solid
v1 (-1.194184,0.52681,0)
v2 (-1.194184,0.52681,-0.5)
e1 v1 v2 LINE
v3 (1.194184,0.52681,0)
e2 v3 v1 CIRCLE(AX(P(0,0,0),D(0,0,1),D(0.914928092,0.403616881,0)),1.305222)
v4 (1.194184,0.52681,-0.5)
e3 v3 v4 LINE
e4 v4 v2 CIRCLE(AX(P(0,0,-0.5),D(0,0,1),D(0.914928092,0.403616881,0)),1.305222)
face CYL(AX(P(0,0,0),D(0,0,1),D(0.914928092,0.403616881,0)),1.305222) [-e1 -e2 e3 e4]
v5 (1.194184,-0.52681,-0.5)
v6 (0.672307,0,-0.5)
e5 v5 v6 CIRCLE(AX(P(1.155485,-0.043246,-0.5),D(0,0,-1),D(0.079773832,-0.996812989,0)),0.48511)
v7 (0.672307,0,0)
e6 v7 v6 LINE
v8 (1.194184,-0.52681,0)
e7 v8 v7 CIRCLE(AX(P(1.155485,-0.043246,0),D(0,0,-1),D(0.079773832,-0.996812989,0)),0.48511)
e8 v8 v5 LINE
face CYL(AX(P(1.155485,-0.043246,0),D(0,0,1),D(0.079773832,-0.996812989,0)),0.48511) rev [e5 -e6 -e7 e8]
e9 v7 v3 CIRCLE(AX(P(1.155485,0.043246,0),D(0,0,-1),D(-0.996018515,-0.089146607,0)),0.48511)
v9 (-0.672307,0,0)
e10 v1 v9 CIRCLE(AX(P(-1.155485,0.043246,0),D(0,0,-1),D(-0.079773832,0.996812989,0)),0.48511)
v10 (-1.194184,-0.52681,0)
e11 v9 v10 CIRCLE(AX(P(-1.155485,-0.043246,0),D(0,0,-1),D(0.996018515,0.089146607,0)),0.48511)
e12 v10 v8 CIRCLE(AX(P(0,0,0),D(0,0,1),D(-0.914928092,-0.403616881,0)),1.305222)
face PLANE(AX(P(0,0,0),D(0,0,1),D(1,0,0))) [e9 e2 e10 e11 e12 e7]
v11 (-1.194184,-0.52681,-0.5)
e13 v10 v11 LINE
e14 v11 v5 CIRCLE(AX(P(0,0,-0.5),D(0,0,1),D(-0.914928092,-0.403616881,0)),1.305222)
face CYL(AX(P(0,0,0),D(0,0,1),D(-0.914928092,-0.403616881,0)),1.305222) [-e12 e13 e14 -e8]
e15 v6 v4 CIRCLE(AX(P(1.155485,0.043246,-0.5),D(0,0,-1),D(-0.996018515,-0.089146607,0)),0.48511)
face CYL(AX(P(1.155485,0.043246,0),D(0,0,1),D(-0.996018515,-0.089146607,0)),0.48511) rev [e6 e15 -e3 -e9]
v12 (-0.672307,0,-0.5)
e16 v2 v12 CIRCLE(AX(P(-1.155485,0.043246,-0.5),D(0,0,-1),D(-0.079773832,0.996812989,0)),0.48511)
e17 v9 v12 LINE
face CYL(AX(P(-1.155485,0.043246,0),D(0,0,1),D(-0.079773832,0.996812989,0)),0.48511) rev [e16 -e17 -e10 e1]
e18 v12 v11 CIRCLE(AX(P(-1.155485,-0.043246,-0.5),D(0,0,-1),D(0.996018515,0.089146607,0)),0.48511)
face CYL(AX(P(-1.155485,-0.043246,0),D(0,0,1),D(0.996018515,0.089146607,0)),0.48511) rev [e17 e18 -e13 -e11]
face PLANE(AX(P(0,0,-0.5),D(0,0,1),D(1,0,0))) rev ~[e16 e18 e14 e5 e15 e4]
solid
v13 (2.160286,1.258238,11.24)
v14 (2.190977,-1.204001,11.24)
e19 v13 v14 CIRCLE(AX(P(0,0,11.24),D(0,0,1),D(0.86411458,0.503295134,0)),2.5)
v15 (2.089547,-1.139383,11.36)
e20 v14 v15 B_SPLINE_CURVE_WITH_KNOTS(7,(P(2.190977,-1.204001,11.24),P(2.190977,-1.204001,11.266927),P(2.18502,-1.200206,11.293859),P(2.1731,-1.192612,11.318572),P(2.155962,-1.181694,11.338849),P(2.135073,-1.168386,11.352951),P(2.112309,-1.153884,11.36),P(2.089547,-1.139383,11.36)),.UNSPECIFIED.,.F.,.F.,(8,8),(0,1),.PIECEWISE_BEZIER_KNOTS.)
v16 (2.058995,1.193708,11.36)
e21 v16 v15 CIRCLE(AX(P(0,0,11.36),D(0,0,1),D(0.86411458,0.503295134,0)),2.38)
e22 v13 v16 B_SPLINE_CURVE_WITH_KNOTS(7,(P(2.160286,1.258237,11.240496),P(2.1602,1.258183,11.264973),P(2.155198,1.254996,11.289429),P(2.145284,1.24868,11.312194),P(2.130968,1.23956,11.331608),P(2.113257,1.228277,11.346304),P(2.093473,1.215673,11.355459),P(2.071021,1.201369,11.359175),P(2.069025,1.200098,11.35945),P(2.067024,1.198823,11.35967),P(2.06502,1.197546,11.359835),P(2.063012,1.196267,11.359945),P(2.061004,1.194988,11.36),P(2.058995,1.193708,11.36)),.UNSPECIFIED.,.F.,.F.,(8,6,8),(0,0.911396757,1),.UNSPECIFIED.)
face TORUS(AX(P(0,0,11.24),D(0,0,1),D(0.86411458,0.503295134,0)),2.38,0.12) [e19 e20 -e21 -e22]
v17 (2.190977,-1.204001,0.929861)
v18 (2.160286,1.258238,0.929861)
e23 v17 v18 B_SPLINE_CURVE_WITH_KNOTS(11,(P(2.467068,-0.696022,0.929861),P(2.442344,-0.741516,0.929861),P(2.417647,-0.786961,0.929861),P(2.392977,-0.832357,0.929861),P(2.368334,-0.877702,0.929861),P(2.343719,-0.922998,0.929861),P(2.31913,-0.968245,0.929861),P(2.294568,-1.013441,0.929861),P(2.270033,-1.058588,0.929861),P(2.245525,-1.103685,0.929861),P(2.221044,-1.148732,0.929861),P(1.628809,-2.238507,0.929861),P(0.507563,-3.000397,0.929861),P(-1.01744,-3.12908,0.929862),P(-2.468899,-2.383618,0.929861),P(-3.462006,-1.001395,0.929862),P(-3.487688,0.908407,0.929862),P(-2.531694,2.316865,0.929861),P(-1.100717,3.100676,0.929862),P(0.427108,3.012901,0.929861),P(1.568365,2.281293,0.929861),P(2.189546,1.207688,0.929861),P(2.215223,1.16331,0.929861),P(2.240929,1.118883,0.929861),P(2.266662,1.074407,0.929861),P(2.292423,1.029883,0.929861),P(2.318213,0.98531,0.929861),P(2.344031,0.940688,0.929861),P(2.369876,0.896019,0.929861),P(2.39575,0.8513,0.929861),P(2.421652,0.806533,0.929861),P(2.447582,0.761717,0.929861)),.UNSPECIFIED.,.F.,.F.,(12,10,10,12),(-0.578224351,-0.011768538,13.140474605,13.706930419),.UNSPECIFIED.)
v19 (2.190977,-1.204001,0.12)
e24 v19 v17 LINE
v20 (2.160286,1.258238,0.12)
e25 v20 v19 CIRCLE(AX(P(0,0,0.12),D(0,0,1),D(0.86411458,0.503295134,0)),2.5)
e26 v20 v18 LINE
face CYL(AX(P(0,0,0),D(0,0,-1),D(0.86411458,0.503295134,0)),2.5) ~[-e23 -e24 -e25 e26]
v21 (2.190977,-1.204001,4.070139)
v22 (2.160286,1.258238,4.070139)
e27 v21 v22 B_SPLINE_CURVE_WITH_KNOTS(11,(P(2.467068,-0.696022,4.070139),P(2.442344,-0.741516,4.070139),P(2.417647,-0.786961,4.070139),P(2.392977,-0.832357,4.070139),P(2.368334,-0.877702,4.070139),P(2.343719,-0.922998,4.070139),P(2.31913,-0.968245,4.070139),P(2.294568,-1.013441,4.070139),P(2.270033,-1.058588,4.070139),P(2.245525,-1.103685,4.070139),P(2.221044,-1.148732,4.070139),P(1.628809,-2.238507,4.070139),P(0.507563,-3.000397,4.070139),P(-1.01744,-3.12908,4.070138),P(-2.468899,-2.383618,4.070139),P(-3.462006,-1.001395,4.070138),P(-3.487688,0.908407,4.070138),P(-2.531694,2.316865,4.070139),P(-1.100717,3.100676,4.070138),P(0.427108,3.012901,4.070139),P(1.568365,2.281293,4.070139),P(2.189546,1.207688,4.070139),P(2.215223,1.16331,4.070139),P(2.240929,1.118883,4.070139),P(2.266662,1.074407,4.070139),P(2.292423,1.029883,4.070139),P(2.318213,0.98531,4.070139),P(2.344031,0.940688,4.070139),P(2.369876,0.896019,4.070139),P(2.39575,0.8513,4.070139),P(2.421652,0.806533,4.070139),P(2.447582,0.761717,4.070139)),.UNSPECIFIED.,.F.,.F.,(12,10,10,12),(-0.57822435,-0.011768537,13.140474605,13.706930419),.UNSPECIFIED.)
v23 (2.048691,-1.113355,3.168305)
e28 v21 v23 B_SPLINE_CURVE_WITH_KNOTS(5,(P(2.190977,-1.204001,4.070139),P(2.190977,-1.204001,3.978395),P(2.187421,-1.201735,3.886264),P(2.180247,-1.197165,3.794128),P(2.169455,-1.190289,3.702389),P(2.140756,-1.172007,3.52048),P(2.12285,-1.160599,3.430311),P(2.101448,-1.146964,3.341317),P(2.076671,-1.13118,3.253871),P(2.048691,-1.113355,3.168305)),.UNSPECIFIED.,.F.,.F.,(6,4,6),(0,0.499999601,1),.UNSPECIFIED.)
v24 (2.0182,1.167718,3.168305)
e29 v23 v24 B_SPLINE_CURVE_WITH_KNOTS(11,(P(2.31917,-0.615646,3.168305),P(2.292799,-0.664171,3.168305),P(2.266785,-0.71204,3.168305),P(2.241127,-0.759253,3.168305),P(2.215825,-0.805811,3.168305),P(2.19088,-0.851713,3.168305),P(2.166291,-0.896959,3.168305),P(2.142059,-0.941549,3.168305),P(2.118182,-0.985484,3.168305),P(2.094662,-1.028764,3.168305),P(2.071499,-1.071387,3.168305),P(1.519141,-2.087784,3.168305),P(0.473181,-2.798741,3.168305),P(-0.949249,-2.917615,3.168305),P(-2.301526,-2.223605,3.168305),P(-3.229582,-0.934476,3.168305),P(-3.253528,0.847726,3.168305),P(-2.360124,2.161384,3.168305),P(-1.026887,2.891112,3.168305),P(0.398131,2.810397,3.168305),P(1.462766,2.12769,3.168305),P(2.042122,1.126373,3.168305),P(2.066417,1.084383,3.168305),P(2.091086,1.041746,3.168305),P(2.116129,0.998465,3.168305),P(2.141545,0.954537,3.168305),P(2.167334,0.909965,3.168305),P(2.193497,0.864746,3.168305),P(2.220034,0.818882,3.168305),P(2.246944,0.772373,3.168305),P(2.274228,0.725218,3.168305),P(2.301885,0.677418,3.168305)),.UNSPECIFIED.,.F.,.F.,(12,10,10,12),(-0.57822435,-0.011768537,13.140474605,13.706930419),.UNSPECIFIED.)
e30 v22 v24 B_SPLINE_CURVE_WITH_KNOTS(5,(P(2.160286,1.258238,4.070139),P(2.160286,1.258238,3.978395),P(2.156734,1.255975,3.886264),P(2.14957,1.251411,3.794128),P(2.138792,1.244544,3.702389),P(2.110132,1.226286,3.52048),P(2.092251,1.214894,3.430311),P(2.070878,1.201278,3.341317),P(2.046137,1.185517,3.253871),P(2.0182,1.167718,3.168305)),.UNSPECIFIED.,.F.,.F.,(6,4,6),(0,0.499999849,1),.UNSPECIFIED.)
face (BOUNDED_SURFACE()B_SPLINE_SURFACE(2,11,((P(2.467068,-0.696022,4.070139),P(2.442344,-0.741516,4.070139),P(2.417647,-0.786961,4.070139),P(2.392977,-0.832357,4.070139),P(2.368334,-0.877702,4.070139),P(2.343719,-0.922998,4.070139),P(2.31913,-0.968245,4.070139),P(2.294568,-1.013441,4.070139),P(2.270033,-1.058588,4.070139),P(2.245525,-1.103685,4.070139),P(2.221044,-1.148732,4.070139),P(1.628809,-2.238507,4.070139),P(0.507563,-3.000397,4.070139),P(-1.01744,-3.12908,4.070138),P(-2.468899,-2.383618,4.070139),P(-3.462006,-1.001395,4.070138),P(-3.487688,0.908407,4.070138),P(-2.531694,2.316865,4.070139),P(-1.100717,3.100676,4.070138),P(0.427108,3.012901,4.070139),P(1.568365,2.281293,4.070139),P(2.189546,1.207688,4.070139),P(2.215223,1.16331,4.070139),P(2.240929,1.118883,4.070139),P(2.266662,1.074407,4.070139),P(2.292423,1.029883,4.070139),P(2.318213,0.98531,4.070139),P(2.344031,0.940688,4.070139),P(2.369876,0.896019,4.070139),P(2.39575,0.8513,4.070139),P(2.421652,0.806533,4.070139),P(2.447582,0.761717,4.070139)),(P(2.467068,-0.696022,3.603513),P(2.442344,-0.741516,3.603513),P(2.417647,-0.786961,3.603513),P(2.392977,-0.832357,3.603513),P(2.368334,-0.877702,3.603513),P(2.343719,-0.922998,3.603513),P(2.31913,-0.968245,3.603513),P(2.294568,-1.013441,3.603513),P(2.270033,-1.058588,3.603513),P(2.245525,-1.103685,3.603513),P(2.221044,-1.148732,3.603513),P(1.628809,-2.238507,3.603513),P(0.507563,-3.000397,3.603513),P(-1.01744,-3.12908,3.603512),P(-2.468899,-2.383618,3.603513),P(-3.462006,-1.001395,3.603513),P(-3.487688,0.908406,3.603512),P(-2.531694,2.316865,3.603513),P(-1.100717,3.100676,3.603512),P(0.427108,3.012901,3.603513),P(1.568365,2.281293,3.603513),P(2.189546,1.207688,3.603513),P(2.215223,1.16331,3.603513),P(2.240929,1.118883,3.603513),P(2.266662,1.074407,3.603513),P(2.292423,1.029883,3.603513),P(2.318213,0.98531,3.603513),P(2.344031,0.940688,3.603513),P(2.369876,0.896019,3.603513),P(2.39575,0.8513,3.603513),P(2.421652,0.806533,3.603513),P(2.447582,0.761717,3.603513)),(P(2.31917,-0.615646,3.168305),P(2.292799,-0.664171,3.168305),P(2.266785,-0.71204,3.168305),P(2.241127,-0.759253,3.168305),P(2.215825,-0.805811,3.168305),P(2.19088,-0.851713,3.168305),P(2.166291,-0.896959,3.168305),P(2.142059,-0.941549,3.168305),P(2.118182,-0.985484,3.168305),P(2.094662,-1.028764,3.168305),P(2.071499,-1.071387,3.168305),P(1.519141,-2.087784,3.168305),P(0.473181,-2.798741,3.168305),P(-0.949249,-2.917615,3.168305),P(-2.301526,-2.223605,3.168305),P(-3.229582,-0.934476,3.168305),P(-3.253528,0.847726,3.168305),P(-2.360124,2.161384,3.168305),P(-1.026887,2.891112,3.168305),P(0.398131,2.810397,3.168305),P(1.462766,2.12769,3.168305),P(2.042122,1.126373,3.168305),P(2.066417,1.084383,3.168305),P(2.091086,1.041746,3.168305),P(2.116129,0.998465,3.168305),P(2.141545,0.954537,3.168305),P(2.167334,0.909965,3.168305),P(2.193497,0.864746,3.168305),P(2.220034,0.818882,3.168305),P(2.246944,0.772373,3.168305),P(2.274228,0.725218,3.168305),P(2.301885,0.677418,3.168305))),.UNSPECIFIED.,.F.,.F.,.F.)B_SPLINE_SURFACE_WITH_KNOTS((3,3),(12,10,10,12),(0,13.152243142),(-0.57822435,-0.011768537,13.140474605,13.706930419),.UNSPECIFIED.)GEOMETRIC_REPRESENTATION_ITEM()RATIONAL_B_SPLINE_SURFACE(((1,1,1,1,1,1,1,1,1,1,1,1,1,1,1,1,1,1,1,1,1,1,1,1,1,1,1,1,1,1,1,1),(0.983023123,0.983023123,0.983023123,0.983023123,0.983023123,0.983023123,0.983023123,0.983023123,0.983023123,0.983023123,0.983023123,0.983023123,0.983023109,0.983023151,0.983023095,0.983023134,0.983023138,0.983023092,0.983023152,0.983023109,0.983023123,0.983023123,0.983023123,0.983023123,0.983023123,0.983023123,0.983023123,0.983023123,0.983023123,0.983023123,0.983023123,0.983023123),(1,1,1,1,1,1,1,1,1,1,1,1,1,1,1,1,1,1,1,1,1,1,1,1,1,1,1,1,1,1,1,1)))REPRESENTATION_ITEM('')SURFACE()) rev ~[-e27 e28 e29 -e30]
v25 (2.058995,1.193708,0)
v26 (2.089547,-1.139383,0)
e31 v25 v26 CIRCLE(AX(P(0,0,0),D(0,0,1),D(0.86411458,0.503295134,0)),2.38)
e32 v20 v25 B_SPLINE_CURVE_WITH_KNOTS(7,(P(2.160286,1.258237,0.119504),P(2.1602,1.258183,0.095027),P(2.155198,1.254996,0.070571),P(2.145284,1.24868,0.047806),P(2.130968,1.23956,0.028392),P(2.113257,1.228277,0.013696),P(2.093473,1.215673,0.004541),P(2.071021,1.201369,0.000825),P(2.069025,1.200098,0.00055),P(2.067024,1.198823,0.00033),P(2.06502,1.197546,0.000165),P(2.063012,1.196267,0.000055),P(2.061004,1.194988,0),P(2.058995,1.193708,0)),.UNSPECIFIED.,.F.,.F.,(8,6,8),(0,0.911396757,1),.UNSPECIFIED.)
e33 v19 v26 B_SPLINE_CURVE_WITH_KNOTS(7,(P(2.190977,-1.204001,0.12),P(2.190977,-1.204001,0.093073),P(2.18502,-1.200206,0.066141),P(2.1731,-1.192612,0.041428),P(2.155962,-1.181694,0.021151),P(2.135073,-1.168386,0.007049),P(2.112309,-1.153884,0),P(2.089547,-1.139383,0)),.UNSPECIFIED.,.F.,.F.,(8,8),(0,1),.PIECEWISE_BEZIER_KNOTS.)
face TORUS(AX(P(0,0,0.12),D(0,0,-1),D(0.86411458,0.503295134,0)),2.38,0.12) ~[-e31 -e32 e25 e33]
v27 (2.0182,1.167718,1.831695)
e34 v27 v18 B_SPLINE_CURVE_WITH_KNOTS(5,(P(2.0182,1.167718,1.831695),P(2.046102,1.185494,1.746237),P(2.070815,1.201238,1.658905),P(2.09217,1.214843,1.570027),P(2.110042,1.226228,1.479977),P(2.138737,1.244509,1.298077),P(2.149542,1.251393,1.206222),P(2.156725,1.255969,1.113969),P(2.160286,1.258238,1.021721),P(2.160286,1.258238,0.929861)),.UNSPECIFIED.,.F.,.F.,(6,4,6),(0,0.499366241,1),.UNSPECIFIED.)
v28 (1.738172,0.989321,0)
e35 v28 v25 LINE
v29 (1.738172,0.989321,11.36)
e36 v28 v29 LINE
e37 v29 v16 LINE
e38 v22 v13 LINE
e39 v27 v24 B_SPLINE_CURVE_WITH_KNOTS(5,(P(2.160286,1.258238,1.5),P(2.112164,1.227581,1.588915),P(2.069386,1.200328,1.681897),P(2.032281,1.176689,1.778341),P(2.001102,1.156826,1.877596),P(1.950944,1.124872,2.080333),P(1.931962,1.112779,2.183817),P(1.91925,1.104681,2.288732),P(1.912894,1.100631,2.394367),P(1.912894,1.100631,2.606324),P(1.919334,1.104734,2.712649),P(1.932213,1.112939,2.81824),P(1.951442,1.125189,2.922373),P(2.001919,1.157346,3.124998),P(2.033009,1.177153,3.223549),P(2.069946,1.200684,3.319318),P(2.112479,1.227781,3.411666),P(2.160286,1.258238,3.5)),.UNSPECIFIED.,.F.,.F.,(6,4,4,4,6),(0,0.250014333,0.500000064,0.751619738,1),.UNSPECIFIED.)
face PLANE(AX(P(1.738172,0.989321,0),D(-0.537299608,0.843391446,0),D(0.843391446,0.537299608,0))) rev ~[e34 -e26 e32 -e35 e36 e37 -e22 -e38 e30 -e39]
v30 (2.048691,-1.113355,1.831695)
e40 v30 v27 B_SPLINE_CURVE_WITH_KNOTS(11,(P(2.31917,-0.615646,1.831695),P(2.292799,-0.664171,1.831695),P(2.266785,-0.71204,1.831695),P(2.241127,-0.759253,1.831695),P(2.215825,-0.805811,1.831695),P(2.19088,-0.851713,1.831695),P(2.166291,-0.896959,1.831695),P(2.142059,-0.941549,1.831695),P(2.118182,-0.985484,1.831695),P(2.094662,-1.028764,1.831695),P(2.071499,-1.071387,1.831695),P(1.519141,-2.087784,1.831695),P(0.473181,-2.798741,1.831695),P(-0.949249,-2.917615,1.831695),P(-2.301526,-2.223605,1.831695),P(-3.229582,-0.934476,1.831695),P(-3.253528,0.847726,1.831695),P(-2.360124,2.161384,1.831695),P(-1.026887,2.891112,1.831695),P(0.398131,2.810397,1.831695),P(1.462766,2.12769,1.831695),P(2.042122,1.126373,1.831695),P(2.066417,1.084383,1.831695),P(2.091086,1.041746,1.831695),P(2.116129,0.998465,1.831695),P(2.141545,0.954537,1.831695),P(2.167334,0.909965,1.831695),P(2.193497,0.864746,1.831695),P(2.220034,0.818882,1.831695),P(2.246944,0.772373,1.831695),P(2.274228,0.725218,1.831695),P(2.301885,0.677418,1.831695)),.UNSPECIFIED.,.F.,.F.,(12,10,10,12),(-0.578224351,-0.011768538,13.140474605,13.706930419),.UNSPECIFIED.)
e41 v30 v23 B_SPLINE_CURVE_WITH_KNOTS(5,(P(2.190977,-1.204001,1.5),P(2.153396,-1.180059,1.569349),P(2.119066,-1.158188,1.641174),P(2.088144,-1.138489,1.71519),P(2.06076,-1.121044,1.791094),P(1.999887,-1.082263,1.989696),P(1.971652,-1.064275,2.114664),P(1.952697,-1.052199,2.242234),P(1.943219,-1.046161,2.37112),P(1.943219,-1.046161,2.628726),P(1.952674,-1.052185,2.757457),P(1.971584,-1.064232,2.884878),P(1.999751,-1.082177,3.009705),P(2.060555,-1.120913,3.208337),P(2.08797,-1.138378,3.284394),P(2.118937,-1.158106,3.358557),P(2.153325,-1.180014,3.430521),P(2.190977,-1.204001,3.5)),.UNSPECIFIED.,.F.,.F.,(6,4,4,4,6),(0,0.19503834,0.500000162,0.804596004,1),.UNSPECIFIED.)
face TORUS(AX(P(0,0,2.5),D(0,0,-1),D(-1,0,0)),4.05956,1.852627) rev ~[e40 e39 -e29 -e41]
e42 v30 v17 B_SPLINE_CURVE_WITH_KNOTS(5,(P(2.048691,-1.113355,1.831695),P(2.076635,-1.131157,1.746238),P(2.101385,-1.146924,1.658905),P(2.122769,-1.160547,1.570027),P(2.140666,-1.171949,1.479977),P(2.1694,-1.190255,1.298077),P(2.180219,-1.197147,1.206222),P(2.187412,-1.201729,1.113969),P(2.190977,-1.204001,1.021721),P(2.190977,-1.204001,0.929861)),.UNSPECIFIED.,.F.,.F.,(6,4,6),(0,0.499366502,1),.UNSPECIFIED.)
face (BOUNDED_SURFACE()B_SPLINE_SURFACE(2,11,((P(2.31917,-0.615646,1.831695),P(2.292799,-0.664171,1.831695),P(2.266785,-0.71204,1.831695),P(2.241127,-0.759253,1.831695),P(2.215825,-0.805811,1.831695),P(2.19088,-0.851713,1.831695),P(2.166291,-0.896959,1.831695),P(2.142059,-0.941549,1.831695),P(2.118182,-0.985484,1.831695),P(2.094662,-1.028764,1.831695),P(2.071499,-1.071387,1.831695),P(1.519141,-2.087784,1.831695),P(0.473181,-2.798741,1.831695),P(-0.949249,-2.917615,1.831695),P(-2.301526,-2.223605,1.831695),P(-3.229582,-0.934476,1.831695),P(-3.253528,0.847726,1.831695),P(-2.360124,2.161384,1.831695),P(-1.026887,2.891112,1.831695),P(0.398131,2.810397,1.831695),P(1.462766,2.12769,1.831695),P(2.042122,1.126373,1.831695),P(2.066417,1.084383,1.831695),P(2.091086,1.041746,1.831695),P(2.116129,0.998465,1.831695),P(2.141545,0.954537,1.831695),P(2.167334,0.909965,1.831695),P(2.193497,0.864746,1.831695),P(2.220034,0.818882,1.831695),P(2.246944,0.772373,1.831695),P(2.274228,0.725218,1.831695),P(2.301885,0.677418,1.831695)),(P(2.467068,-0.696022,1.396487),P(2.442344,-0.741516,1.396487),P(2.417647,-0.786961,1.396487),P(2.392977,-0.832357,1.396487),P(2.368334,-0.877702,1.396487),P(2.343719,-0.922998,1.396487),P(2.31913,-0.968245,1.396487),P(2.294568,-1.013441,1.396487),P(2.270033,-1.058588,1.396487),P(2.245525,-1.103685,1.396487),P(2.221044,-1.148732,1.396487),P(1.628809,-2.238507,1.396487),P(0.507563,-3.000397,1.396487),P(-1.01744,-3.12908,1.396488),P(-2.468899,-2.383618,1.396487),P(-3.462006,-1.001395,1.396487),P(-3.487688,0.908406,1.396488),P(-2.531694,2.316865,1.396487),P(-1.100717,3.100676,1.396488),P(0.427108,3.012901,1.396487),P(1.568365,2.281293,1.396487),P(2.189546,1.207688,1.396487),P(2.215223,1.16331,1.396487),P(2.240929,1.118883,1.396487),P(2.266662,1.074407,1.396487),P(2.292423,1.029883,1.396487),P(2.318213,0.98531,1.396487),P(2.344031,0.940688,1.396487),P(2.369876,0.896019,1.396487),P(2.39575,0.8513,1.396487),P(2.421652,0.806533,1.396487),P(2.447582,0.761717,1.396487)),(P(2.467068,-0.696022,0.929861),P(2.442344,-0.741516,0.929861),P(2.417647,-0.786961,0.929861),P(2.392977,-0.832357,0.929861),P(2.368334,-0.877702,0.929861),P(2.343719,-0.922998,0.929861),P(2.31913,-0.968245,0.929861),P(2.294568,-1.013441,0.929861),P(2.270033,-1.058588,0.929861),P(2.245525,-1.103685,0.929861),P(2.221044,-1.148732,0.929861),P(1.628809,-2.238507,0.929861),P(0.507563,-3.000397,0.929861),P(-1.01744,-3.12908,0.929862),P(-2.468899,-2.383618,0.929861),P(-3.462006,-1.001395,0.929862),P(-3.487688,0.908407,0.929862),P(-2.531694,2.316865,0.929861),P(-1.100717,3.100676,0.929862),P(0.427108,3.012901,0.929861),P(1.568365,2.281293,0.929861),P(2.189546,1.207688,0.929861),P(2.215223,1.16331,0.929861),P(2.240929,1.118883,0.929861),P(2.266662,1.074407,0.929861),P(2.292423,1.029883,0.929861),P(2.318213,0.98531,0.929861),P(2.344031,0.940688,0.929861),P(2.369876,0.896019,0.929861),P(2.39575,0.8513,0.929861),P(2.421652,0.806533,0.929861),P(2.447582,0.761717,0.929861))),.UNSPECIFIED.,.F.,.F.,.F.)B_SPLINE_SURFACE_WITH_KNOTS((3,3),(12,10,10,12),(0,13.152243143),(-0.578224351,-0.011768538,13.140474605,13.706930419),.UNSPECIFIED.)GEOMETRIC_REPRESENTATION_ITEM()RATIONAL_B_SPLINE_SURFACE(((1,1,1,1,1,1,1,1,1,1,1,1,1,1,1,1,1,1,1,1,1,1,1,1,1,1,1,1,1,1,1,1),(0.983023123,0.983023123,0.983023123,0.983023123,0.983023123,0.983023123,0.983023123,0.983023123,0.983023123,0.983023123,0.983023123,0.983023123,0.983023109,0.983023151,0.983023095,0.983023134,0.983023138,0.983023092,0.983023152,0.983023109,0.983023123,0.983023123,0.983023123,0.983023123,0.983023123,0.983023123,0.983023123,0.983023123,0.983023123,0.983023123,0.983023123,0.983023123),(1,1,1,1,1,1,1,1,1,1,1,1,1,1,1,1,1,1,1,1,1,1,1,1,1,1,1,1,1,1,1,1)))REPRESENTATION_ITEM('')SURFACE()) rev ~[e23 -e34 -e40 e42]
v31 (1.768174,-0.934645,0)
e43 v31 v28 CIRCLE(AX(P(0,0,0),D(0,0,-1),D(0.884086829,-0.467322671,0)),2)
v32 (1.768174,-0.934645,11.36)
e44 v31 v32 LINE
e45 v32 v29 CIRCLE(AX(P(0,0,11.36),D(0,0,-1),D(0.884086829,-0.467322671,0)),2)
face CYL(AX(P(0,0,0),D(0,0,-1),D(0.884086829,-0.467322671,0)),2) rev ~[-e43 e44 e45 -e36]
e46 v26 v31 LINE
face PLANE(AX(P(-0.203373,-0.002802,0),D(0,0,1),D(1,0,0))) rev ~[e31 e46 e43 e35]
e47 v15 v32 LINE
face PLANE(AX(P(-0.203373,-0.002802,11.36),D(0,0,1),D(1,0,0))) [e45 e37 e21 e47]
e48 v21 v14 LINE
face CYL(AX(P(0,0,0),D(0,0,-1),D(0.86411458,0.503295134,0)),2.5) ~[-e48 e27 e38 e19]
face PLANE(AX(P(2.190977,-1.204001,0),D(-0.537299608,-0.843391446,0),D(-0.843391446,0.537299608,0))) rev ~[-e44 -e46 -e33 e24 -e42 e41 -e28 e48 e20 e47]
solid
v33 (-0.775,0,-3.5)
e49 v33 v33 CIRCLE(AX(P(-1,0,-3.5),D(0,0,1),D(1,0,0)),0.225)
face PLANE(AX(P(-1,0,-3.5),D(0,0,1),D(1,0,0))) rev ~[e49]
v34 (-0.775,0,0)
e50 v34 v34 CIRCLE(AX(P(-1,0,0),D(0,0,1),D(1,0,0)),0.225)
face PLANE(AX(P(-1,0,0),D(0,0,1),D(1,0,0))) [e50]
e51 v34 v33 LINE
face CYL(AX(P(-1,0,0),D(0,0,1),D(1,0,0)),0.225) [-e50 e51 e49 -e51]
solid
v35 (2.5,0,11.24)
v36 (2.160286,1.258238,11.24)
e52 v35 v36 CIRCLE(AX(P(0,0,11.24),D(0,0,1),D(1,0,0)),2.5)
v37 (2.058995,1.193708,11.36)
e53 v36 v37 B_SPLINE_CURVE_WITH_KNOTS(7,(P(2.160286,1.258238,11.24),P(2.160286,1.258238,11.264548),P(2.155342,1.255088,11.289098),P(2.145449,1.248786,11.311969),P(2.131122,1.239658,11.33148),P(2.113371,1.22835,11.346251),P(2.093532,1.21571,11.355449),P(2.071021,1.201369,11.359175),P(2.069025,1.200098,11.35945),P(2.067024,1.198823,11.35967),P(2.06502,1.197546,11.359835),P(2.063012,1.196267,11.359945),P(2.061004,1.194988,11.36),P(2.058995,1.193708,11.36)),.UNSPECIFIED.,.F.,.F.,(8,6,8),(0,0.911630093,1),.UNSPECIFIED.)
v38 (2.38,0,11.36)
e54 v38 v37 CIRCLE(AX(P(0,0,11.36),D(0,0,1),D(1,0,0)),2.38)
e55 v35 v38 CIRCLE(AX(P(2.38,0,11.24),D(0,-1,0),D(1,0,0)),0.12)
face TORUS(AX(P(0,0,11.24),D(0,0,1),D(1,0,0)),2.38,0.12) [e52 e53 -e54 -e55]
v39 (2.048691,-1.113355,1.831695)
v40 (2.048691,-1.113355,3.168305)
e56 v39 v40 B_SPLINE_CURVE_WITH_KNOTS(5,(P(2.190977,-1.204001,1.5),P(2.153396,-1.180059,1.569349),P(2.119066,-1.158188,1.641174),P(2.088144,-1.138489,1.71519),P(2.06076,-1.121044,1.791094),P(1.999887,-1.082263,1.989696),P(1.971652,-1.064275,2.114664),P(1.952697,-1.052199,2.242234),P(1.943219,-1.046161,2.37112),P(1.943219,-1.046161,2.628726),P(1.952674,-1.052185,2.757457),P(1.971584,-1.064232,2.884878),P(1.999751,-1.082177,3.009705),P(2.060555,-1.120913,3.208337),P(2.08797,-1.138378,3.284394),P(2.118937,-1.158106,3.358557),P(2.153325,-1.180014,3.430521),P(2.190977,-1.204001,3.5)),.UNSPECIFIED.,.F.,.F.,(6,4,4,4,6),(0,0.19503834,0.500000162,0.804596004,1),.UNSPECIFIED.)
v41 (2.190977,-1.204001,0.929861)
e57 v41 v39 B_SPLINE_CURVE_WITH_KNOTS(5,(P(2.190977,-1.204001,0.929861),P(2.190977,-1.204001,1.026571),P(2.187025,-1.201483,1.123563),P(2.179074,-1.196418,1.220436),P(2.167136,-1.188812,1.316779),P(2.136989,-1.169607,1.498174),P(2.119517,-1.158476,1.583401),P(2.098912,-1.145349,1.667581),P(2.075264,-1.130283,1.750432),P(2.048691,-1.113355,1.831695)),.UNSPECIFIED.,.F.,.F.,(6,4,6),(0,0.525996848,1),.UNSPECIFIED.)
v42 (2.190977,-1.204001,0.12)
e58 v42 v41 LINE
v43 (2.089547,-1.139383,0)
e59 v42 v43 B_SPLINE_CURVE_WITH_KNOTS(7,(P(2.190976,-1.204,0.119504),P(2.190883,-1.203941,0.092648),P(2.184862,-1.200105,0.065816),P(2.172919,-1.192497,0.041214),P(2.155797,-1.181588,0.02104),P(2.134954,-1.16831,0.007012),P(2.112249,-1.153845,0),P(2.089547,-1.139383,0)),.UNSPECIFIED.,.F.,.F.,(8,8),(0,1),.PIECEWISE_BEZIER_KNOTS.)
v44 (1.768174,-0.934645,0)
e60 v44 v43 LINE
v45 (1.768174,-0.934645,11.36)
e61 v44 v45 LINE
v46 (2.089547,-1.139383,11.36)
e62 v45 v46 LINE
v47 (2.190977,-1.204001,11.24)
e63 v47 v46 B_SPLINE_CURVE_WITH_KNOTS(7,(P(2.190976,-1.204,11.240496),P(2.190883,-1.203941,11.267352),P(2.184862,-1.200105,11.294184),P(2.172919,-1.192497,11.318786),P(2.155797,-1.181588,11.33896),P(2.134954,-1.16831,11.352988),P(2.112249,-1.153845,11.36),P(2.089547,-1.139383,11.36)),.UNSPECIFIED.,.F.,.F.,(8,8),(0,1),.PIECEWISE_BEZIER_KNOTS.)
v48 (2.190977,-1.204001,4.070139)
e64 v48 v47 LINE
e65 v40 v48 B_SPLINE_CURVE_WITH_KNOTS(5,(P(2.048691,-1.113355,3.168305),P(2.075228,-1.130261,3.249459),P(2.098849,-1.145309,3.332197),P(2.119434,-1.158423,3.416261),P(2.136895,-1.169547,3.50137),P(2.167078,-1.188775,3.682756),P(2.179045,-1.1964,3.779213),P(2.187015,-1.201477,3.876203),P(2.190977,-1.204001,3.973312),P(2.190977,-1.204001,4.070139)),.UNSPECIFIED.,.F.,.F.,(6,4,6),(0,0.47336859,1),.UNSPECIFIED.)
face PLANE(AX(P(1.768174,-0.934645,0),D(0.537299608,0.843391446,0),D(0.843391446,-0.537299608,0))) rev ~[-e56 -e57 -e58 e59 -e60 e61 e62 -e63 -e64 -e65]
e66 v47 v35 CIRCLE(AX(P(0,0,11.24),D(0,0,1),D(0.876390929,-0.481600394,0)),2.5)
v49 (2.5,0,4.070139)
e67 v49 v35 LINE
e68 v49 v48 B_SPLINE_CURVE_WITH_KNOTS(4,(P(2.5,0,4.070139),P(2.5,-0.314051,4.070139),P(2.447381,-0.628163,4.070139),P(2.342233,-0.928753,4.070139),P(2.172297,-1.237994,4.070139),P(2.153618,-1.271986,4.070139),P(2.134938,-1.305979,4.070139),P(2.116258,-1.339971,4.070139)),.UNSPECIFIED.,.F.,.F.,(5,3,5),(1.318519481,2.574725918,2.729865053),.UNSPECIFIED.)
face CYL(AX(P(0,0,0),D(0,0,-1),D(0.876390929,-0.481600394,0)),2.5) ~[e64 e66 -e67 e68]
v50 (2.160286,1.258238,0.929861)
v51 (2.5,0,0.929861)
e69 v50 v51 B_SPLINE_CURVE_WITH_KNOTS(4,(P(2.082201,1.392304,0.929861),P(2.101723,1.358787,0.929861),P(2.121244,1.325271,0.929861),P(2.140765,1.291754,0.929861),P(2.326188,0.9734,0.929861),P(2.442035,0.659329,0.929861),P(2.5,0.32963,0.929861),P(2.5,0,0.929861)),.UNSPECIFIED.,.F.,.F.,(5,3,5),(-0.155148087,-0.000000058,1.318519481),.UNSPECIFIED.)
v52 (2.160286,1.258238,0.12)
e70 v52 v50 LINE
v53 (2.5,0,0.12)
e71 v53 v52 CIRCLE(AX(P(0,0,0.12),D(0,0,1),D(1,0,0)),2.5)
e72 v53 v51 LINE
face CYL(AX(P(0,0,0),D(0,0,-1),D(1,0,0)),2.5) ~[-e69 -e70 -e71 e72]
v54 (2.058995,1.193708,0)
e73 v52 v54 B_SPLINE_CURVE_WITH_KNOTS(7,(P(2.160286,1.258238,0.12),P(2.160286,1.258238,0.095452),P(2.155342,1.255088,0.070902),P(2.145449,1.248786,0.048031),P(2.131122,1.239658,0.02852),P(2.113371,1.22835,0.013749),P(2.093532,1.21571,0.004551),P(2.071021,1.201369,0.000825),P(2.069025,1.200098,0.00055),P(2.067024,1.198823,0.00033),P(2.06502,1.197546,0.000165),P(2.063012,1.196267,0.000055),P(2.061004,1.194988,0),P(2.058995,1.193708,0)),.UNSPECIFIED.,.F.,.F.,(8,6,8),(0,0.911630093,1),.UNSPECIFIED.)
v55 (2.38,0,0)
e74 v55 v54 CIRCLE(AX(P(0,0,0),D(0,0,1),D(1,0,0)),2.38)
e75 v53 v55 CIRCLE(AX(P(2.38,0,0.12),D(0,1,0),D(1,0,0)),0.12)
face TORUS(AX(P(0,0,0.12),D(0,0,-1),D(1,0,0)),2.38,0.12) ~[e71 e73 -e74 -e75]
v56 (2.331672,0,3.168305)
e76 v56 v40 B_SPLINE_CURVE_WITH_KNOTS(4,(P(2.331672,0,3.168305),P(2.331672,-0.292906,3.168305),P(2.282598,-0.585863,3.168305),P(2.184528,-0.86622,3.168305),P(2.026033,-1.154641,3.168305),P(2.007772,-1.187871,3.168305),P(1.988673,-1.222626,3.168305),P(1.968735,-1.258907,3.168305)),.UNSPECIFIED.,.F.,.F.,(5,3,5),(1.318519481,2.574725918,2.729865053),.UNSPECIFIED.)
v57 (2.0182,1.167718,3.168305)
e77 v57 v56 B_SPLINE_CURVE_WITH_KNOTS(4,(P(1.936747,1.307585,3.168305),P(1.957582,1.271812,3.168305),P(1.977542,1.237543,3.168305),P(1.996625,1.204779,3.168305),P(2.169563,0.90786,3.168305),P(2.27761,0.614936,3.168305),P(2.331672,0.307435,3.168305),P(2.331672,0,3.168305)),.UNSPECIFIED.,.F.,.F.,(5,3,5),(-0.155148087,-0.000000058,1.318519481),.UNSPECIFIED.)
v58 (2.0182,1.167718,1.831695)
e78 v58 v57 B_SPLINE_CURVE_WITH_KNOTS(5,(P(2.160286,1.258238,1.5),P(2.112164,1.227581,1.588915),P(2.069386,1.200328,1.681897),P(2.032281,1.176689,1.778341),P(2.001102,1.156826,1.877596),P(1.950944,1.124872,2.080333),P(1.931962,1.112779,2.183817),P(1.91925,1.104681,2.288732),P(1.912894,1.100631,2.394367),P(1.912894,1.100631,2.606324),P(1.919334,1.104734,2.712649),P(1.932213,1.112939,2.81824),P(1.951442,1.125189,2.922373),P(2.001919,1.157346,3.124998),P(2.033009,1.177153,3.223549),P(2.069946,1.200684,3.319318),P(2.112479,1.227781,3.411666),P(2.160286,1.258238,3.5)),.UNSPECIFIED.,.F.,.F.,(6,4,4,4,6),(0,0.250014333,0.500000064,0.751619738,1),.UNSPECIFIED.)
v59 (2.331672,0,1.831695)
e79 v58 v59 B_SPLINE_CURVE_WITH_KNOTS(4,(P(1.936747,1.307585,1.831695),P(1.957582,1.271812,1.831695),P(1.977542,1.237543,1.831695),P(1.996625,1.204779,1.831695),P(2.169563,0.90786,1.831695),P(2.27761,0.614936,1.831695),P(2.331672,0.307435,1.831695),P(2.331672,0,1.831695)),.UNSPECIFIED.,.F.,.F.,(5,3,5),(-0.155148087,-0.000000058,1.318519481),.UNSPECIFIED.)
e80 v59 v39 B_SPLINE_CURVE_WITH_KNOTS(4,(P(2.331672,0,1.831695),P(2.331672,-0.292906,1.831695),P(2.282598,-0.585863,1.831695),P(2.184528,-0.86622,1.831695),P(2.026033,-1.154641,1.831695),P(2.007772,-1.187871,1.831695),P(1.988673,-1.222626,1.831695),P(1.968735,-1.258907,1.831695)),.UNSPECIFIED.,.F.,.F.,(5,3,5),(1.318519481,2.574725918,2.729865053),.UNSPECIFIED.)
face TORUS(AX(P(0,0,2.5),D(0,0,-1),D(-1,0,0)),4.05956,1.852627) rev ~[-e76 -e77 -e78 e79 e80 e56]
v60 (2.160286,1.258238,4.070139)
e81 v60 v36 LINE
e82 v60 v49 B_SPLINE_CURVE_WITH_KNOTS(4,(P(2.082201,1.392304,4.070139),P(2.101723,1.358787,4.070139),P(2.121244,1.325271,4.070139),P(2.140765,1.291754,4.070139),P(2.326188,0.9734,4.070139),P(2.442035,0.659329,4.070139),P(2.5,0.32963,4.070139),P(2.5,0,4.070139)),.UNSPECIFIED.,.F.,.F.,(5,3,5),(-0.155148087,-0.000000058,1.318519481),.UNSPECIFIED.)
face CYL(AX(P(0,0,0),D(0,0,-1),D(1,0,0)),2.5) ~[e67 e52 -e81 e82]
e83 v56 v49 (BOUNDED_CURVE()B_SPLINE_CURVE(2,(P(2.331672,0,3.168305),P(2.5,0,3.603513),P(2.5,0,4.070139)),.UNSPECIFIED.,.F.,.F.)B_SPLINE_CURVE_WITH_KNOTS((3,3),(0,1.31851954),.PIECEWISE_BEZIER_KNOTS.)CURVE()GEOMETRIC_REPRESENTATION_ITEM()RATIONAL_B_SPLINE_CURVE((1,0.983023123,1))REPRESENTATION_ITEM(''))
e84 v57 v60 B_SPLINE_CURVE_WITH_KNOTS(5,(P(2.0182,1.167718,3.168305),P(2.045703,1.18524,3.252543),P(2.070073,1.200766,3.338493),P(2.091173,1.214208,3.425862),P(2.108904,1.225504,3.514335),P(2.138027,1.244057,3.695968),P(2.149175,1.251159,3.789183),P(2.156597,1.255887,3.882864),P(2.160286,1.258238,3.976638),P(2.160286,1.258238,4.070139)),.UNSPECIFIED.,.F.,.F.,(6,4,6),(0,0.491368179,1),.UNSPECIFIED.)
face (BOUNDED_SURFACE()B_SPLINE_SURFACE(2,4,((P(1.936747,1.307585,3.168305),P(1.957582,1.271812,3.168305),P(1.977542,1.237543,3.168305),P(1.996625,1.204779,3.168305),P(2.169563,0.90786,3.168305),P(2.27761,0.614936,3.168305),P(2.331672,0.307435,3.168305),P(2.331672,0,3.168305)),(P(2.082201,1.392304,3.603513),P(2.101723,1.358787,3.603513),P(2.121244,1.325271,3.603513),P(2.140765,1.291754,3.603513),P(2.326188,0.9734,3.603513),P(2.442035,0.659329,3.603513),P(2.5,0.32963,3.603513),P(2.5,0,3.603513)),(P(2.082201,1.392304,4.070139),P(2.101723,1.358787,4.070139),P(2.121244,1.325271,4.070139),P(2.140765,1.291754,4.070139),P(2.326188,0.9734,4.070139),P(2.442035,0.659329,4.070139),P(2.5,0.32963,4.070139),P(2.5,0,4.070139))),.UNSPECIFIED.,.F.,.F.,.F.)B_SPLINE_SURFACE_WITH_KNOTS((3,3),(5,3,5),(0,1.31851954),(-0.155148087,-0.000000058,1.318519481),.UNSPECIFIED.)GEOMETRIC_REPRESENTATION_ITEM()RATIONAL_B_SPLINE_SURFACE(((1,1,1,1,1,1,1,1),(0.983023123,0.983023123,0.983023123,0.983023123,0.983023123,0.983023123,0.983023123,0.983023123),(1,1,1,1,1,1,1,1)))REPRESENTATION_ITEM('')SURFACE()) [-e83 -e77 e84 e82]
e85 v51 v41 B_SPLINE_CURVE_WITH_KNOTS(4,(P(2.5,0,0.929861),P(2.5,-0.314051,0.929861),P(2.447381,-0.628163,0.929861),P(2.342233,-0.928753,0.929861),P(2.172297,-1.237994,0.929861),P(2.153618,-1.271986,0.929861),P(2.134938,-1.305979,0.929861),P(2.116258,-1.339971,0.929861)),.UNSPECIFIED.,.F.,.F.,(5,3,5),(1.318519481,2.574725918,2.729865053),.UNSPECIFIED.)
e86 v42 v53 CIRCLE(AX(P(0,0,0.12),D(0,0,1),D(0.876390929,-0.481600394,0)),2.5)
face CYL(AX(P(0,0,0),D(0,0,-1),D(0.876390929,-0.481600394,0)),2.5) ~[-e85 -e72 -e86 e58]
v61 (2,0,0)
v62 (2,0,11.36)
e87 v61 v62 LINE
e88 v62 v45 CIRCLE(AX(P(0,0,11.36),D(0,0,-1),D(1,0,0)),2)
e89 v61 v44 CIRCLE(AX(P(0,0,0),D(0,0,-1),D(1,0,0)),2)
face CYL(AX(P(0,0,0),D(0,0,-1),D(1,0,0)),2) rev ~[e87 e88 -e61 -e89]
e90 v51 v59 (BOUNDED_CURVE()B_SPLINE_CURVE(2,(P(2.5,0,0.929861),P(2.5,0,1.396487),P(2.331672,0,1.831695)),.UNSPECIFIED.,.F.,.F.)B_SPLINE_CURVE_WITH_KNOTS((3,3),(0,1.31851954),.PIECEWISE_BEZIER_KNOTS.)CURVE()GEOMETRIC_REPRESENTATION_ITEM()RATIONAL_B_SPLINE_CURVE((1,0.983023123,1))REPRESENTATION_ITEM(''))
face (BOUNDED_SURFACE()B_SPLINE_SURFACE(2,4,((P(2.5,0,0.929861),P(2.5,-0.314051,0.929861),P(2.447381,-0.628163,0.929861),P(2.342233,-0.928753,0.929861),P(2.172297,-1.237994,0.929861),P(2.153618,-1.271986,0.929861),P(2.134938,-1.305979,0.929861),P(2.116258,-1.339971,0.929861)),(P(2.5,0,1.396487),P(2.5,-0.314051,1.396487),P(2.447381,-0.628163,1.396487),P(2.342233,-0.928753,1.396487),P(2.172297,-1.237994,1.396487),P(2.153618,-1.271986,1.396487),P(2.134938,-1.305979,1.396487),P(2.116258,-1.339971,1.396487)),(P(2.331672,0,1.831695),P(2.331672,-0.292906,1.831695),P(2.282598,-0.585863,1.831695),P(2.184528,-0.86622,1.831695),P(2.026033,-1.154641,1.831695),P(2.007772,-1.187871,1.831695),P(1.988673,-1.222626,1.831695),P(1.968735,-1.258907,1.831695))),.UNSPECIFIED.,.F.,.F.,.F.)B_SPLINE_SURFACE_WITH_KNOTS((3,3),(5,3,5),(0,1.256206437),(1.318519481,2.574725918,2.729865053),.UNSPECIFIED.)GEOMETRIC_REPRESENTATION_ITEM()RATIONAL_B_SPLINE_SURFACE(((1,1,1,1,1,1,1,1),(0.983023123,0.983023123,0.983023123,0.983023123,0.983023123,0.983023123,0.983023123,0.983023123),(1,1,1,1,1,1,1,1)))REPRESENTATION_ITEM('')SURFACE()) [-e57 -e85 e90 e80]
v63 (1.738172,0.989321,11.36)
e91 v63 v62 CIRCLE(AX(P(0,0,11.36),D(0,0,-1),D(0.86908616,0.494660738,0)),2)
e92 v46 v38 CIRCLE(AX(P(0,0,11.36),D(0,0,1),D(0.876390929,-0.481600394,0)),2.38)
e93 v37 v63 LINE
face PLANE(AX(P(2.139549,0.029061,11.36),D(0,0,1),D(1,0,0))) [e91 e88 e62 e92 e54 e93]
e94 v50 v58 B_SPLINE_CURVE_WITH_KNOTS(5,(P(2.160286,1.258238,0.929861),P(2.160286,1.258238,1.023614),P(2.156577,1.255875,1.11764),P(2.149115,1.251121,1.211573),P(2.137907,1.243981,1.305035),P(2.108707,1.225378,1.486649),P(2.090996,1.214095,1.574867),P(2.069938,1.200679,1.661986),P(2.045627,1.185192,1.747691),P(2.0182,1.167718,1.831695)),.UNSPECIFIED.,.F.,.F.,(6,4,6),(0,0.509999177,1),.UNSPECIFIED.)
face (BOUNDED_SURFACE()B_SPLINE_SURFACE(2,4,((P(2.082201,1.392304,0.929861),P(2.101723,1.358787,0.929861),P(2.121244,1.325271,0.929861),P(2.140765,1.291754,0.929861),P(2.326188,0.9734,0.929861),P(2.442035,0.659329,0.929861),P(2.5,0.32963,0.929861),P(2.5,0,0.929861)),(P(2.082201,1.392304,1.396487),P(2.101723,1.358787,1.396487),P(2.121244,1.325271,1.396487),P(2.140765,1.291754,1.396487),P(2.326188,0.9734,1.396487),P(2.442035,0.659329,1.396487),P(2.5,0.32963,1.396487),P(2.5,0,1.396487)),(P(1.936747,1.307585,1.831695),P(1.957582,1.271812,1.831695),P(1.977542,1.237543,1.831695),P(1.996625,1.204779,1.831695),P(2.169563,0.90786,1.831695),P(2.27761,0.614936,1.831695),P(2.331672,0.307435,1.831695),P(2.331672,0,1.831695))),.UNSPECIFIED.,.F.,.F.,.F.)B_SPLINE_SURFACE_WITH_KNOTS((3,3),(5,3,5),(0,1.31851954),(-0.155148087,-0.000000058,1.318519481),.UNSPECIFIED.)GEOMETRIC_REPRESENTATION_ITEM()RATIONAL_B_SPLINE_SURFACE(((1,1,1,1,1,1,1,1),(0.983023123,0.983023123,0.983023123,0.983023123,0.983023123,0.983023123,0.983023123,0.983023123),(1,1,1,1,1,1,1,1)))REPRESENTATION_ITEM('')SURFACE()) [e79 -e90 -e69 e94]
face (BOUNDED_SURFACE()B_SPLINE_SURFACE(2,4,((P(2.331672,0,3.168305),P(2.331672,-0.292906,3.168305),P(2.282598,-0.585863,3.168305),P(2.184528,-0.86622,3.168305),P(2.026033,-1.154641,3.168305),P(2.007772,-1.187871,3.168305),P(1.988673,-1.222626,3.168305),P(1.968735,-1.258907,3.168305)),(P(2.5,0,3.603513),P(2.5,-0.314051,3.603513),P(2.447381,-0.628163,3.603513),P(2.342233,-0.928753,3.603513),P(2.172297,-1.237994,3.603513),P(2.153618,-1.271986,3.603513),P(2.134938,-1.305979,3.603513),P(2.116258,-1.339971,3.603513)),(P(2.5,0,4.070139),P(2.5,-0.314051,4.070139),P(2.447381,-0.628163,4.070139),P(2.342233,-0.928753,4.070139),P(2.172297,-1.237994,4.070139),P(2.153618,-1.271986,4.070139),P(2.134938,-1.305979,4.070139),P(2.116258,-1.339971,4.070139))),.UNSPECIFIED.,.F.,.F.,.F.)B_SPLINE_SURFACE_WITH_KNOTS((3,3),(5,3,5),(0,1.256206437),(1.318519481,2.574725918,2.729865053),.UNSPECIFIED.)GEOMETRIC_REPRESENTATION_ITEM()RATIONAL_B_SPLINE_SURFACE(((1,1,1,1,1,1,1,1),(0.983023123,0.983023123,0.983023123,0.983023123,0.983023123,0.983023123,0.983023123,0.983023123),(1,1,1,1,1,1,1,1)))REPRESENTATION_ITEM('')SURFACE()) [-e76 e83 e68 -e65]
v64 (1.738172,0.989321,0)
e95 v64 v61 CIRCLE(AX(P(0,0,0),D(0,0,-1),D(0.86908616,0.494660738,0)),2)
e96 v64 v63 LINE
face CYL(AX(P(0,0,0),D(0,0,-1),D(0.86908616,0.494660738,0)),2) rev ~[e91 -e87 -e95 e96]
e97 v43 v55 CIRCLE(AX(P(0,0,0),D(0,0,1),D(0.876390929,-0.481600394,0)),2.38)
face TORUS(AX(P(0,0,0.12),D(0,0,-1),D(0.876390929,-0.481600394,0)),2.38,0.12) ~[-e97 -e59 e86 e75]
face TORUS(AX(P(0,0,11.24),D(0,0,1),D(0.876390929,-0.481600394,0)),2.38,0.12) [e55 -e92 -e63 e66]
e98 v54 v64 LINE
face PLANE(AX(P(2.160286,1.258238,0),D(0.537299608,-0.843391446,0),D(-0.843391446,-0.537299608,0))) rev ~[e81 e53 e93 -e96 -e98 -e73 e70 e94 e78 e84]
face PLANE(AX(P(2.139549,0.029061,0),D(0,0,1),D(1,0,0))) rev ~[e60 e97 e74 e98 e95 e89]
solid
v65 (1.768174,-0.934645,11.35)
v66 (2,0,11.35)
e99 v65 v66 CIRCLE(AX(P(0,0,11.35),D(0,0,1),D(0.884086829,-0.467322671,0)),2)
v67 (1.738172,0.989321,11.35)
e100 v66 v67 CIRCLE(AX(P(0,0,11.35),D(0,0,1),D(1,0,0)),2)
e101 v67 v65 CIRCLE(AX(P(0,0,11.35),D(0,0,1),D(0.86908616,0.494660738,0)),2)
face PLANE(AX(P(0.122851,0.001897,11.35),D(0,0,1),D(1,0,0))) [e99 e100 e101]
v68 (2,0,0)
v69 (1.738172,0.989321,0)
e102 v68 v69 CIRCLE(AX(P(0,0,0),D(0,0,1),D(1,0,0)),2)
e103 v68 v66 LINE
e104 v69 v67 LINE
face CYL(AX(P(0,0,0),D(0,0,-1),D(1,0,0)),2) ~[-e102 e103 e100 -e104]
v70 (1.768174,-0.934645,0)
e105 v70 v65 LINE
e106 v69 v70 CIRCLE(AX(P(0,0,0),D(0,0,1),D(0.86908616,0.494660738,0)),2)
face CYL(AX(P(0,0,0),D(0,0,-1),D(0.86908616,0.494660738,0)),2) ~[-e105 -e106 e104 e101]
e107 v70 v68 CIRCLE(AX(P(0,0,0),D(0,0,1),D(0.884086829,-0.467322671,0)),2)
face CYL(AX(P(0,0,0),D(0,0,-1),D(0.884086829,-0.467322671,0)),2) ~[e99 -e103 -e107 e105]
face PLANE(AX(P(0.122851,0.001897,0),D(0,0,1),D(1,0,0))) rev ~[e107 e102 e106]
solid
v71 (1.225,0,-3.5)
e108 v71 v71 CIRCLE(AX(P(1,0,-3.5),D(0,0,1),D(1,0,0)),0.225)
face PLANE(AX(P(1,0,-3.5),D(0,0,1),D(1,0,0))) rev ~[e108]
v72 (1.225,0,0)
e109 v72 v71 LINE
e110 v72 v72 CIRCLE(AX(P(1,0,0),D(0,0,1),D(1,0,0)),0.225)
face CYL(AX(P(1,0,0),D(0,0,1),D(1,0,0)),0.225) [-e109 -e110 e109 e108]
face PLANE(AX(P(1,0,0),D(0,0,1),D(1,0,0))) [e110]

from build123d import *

# Parameters (mm, degrees)
F2_DEPTH = 11.35
F3_DEPTH = 11.36
F4_DEPTH = 11.36
F5_R     = 0.12
F5_2_R   = 0.12
F1_R     = 0.225
F6_DEPTH = 3.5
F8_DEPTH = 0.5
F11_R    = 2.5
F11_2_R  = 2.5


with BuildPart() as f2:
    # F0 (on Top) → F2 (new body)
    with BuildSketch(Plane.XY):
        with BuildLine():
            ThreePointArc((2, 0), (1.9334353676, 0.5116909997), (1.7381723208, 0.9893214761))
            ThreePointArc((1.7381723208, 0.9893214761), (-1.9997568877, -0.0311831677), (1.7681736576, -0.9346453426))
            ThreePointArc((1.7681736576, -0.9346453426), (1.9411784198, -0.4814834809), (2, 0))
        make_face()
    extrude(amount=F2_DEPTH)


with BuildPart() as f3:
    # F0 (on Top) → F3 (new body)
    with BuildSketch(Plane.XY):
        with BuildLine():
            Line((1.7381723208, 0.9893214761), (2.160286451, 1.2582378351))
            ThreePointArc((2.160286451, 1.2582378351), (-2.4998058142, -0.0311591305), (2.1909773231, -1.204000984))
            Line((2.1909773231, -1.204000984), (1.7681736576, -0.9346453426))
            ThreePointArc((1.7681736576, -0.9346453426), (-1.9997568877, -0.0311831677), (1.7381723208, 0.9893214761))
        make_face()
    extrude(amount=F3_DEPTH)

    # F5
    f5_edges = [f3.edges().sort_by_distance(p)[0] for p in [
        (-2.499806, -0.031159, 11.36),
        (-2.499806, -0.031159, 0),
    ]]
    fillet(f5_edges, radius=F5_R)


with BuildPart() as f4:
    # F0 (on Top) → F4 (new body)
    with BuildSketch(Plane.XY):
        with BuildLine():
            ThreePointArc((2.1909773231, -1.204000984), (2.4215122659, -0.6215129493), (2.5, 0))
            ThreePointArc((2.5, 0), (2.4135778553, 0.6516455603), (2.160286451, 1.2582378351))
            Line((2.160286451, 1.2582378351), (1.7381723208, 0.9893214761))
            ThreePointArc((1.7381723208, 0.9893214761), (1.9334353676, 0.5116909997), (2, 0))
            ThreePointArc((2, 0), (1.9411784198, -0.4814834809), (1.7681736576, -0.9346453426))
            Line((1.7681736576, -0.9346453426), (2.1909773231, -1.204000984))
        make_face()
    extrude(amount=F4_DEPTH)

    # F5#2
    f5_2_edges = [f4.edges().sort_by_distance(p)[0] for p in [
        (2.499806, 0.031159, 11.36),
        (2.499806, 0.031159, 0),
    ]]
    fillet(f5_2_edges, radius=F5_2_R)


with BuildPart() as f6:
    # F1 (on Top) → F6 (new body)
    with BuildSketch(Plane.XY):
        with Locations((-1, 0)):
            Circle(F1_R)
    extrude(amount=-F6_DEPTH)


with BuildPart() as f6b:
    # F1 (on Top) → F6, piece 2 (new body)
    with BuildSketch(Plane.XY):
        with Locations((1, 0)):
            Circle(F1_R)
    extrude(amount=-F6_DEPTH)


with BuildPart() as f8:
    # F7 (on face) → F8 (new body)
    with BuildSketch(Plane.XY):
        with BuildLine():
            ThreePointArc((0.672306749, 0), (0.8108511183, 0.3846531404), (1.1941840541, 0.5268095364))
            ThreePointArc((1.1941840541, 0.5268095364), (0, 1.30522176), (-1.1941840541, 0.5268095364))
            ThreePointArc((-1.1941840541, 0.5268095364), (-0.8108511183, 0.3846531404), (-0.672306749, 0))
            ThreePointArc((-0.672306749, 0), (-0.8108511183, -0.3846531404), (-1.1941840541, -0.5268095364))
            ThreePointArc((-1.1941840541, -0.5268095364), (0, -1.30522176), (1.1941840541, -0.5268095364))
            ThreePointArc((1.1941840541, -0.5268095364), (0.8108511183, -0.3846531404), (0.672306749, 0))
        make_face()
    extrude(amount=-F8_DEPTH)


with BuildPart() as f10_tool:
    # F9 (on Front) → F10 (revolve)
    with BuildSketch(Plane.XZ):
        with BuildLine():
            ThreePointArc((-2.5, 1.5), (-2.2069329005, 2.5), (-2.5, 3.5))
            Line((-2.5, 3.5), (-2.5, 1.5))
        make_face()
    revolve(axis=Axis((0, 0, 0), (0, 0, -1)))


with BuildPart() as f3_1:
    add(f3.part)

    # F10: cut by f10_tool
    add(f10_tool.part, mode=Mode.SUBTRACT)

    # F11
    f11_edges = [f3_1.edges().sort_by_distance(p)[0] for p in [
        (-2.499806, -0.031159, 3.5),
        (-2.499806, -0.031159, 1.5),
    ]]
    fillet(f11_edges, radius=F11_R)


with BuildPart() as f4_1:
    add(f4.part)

    # F10: cut by f10_tool
    add(f10_tool.part, mode=Mode.SUBTRACT)

    # F11#2
    f11_2_edges = [f4_1.edges().sort_by_distance(p)[0] for p in [
        (2.499806, 0.031159, 3.5),
        (2.499806, 0.031159, 1.5),
    ]]
    fillet(f11_2_edges, radius=F11_2_R)


solid = Compound([f2.part, f6.part, f6b.part, f8.part, f3_1.part, f4_1.part])
